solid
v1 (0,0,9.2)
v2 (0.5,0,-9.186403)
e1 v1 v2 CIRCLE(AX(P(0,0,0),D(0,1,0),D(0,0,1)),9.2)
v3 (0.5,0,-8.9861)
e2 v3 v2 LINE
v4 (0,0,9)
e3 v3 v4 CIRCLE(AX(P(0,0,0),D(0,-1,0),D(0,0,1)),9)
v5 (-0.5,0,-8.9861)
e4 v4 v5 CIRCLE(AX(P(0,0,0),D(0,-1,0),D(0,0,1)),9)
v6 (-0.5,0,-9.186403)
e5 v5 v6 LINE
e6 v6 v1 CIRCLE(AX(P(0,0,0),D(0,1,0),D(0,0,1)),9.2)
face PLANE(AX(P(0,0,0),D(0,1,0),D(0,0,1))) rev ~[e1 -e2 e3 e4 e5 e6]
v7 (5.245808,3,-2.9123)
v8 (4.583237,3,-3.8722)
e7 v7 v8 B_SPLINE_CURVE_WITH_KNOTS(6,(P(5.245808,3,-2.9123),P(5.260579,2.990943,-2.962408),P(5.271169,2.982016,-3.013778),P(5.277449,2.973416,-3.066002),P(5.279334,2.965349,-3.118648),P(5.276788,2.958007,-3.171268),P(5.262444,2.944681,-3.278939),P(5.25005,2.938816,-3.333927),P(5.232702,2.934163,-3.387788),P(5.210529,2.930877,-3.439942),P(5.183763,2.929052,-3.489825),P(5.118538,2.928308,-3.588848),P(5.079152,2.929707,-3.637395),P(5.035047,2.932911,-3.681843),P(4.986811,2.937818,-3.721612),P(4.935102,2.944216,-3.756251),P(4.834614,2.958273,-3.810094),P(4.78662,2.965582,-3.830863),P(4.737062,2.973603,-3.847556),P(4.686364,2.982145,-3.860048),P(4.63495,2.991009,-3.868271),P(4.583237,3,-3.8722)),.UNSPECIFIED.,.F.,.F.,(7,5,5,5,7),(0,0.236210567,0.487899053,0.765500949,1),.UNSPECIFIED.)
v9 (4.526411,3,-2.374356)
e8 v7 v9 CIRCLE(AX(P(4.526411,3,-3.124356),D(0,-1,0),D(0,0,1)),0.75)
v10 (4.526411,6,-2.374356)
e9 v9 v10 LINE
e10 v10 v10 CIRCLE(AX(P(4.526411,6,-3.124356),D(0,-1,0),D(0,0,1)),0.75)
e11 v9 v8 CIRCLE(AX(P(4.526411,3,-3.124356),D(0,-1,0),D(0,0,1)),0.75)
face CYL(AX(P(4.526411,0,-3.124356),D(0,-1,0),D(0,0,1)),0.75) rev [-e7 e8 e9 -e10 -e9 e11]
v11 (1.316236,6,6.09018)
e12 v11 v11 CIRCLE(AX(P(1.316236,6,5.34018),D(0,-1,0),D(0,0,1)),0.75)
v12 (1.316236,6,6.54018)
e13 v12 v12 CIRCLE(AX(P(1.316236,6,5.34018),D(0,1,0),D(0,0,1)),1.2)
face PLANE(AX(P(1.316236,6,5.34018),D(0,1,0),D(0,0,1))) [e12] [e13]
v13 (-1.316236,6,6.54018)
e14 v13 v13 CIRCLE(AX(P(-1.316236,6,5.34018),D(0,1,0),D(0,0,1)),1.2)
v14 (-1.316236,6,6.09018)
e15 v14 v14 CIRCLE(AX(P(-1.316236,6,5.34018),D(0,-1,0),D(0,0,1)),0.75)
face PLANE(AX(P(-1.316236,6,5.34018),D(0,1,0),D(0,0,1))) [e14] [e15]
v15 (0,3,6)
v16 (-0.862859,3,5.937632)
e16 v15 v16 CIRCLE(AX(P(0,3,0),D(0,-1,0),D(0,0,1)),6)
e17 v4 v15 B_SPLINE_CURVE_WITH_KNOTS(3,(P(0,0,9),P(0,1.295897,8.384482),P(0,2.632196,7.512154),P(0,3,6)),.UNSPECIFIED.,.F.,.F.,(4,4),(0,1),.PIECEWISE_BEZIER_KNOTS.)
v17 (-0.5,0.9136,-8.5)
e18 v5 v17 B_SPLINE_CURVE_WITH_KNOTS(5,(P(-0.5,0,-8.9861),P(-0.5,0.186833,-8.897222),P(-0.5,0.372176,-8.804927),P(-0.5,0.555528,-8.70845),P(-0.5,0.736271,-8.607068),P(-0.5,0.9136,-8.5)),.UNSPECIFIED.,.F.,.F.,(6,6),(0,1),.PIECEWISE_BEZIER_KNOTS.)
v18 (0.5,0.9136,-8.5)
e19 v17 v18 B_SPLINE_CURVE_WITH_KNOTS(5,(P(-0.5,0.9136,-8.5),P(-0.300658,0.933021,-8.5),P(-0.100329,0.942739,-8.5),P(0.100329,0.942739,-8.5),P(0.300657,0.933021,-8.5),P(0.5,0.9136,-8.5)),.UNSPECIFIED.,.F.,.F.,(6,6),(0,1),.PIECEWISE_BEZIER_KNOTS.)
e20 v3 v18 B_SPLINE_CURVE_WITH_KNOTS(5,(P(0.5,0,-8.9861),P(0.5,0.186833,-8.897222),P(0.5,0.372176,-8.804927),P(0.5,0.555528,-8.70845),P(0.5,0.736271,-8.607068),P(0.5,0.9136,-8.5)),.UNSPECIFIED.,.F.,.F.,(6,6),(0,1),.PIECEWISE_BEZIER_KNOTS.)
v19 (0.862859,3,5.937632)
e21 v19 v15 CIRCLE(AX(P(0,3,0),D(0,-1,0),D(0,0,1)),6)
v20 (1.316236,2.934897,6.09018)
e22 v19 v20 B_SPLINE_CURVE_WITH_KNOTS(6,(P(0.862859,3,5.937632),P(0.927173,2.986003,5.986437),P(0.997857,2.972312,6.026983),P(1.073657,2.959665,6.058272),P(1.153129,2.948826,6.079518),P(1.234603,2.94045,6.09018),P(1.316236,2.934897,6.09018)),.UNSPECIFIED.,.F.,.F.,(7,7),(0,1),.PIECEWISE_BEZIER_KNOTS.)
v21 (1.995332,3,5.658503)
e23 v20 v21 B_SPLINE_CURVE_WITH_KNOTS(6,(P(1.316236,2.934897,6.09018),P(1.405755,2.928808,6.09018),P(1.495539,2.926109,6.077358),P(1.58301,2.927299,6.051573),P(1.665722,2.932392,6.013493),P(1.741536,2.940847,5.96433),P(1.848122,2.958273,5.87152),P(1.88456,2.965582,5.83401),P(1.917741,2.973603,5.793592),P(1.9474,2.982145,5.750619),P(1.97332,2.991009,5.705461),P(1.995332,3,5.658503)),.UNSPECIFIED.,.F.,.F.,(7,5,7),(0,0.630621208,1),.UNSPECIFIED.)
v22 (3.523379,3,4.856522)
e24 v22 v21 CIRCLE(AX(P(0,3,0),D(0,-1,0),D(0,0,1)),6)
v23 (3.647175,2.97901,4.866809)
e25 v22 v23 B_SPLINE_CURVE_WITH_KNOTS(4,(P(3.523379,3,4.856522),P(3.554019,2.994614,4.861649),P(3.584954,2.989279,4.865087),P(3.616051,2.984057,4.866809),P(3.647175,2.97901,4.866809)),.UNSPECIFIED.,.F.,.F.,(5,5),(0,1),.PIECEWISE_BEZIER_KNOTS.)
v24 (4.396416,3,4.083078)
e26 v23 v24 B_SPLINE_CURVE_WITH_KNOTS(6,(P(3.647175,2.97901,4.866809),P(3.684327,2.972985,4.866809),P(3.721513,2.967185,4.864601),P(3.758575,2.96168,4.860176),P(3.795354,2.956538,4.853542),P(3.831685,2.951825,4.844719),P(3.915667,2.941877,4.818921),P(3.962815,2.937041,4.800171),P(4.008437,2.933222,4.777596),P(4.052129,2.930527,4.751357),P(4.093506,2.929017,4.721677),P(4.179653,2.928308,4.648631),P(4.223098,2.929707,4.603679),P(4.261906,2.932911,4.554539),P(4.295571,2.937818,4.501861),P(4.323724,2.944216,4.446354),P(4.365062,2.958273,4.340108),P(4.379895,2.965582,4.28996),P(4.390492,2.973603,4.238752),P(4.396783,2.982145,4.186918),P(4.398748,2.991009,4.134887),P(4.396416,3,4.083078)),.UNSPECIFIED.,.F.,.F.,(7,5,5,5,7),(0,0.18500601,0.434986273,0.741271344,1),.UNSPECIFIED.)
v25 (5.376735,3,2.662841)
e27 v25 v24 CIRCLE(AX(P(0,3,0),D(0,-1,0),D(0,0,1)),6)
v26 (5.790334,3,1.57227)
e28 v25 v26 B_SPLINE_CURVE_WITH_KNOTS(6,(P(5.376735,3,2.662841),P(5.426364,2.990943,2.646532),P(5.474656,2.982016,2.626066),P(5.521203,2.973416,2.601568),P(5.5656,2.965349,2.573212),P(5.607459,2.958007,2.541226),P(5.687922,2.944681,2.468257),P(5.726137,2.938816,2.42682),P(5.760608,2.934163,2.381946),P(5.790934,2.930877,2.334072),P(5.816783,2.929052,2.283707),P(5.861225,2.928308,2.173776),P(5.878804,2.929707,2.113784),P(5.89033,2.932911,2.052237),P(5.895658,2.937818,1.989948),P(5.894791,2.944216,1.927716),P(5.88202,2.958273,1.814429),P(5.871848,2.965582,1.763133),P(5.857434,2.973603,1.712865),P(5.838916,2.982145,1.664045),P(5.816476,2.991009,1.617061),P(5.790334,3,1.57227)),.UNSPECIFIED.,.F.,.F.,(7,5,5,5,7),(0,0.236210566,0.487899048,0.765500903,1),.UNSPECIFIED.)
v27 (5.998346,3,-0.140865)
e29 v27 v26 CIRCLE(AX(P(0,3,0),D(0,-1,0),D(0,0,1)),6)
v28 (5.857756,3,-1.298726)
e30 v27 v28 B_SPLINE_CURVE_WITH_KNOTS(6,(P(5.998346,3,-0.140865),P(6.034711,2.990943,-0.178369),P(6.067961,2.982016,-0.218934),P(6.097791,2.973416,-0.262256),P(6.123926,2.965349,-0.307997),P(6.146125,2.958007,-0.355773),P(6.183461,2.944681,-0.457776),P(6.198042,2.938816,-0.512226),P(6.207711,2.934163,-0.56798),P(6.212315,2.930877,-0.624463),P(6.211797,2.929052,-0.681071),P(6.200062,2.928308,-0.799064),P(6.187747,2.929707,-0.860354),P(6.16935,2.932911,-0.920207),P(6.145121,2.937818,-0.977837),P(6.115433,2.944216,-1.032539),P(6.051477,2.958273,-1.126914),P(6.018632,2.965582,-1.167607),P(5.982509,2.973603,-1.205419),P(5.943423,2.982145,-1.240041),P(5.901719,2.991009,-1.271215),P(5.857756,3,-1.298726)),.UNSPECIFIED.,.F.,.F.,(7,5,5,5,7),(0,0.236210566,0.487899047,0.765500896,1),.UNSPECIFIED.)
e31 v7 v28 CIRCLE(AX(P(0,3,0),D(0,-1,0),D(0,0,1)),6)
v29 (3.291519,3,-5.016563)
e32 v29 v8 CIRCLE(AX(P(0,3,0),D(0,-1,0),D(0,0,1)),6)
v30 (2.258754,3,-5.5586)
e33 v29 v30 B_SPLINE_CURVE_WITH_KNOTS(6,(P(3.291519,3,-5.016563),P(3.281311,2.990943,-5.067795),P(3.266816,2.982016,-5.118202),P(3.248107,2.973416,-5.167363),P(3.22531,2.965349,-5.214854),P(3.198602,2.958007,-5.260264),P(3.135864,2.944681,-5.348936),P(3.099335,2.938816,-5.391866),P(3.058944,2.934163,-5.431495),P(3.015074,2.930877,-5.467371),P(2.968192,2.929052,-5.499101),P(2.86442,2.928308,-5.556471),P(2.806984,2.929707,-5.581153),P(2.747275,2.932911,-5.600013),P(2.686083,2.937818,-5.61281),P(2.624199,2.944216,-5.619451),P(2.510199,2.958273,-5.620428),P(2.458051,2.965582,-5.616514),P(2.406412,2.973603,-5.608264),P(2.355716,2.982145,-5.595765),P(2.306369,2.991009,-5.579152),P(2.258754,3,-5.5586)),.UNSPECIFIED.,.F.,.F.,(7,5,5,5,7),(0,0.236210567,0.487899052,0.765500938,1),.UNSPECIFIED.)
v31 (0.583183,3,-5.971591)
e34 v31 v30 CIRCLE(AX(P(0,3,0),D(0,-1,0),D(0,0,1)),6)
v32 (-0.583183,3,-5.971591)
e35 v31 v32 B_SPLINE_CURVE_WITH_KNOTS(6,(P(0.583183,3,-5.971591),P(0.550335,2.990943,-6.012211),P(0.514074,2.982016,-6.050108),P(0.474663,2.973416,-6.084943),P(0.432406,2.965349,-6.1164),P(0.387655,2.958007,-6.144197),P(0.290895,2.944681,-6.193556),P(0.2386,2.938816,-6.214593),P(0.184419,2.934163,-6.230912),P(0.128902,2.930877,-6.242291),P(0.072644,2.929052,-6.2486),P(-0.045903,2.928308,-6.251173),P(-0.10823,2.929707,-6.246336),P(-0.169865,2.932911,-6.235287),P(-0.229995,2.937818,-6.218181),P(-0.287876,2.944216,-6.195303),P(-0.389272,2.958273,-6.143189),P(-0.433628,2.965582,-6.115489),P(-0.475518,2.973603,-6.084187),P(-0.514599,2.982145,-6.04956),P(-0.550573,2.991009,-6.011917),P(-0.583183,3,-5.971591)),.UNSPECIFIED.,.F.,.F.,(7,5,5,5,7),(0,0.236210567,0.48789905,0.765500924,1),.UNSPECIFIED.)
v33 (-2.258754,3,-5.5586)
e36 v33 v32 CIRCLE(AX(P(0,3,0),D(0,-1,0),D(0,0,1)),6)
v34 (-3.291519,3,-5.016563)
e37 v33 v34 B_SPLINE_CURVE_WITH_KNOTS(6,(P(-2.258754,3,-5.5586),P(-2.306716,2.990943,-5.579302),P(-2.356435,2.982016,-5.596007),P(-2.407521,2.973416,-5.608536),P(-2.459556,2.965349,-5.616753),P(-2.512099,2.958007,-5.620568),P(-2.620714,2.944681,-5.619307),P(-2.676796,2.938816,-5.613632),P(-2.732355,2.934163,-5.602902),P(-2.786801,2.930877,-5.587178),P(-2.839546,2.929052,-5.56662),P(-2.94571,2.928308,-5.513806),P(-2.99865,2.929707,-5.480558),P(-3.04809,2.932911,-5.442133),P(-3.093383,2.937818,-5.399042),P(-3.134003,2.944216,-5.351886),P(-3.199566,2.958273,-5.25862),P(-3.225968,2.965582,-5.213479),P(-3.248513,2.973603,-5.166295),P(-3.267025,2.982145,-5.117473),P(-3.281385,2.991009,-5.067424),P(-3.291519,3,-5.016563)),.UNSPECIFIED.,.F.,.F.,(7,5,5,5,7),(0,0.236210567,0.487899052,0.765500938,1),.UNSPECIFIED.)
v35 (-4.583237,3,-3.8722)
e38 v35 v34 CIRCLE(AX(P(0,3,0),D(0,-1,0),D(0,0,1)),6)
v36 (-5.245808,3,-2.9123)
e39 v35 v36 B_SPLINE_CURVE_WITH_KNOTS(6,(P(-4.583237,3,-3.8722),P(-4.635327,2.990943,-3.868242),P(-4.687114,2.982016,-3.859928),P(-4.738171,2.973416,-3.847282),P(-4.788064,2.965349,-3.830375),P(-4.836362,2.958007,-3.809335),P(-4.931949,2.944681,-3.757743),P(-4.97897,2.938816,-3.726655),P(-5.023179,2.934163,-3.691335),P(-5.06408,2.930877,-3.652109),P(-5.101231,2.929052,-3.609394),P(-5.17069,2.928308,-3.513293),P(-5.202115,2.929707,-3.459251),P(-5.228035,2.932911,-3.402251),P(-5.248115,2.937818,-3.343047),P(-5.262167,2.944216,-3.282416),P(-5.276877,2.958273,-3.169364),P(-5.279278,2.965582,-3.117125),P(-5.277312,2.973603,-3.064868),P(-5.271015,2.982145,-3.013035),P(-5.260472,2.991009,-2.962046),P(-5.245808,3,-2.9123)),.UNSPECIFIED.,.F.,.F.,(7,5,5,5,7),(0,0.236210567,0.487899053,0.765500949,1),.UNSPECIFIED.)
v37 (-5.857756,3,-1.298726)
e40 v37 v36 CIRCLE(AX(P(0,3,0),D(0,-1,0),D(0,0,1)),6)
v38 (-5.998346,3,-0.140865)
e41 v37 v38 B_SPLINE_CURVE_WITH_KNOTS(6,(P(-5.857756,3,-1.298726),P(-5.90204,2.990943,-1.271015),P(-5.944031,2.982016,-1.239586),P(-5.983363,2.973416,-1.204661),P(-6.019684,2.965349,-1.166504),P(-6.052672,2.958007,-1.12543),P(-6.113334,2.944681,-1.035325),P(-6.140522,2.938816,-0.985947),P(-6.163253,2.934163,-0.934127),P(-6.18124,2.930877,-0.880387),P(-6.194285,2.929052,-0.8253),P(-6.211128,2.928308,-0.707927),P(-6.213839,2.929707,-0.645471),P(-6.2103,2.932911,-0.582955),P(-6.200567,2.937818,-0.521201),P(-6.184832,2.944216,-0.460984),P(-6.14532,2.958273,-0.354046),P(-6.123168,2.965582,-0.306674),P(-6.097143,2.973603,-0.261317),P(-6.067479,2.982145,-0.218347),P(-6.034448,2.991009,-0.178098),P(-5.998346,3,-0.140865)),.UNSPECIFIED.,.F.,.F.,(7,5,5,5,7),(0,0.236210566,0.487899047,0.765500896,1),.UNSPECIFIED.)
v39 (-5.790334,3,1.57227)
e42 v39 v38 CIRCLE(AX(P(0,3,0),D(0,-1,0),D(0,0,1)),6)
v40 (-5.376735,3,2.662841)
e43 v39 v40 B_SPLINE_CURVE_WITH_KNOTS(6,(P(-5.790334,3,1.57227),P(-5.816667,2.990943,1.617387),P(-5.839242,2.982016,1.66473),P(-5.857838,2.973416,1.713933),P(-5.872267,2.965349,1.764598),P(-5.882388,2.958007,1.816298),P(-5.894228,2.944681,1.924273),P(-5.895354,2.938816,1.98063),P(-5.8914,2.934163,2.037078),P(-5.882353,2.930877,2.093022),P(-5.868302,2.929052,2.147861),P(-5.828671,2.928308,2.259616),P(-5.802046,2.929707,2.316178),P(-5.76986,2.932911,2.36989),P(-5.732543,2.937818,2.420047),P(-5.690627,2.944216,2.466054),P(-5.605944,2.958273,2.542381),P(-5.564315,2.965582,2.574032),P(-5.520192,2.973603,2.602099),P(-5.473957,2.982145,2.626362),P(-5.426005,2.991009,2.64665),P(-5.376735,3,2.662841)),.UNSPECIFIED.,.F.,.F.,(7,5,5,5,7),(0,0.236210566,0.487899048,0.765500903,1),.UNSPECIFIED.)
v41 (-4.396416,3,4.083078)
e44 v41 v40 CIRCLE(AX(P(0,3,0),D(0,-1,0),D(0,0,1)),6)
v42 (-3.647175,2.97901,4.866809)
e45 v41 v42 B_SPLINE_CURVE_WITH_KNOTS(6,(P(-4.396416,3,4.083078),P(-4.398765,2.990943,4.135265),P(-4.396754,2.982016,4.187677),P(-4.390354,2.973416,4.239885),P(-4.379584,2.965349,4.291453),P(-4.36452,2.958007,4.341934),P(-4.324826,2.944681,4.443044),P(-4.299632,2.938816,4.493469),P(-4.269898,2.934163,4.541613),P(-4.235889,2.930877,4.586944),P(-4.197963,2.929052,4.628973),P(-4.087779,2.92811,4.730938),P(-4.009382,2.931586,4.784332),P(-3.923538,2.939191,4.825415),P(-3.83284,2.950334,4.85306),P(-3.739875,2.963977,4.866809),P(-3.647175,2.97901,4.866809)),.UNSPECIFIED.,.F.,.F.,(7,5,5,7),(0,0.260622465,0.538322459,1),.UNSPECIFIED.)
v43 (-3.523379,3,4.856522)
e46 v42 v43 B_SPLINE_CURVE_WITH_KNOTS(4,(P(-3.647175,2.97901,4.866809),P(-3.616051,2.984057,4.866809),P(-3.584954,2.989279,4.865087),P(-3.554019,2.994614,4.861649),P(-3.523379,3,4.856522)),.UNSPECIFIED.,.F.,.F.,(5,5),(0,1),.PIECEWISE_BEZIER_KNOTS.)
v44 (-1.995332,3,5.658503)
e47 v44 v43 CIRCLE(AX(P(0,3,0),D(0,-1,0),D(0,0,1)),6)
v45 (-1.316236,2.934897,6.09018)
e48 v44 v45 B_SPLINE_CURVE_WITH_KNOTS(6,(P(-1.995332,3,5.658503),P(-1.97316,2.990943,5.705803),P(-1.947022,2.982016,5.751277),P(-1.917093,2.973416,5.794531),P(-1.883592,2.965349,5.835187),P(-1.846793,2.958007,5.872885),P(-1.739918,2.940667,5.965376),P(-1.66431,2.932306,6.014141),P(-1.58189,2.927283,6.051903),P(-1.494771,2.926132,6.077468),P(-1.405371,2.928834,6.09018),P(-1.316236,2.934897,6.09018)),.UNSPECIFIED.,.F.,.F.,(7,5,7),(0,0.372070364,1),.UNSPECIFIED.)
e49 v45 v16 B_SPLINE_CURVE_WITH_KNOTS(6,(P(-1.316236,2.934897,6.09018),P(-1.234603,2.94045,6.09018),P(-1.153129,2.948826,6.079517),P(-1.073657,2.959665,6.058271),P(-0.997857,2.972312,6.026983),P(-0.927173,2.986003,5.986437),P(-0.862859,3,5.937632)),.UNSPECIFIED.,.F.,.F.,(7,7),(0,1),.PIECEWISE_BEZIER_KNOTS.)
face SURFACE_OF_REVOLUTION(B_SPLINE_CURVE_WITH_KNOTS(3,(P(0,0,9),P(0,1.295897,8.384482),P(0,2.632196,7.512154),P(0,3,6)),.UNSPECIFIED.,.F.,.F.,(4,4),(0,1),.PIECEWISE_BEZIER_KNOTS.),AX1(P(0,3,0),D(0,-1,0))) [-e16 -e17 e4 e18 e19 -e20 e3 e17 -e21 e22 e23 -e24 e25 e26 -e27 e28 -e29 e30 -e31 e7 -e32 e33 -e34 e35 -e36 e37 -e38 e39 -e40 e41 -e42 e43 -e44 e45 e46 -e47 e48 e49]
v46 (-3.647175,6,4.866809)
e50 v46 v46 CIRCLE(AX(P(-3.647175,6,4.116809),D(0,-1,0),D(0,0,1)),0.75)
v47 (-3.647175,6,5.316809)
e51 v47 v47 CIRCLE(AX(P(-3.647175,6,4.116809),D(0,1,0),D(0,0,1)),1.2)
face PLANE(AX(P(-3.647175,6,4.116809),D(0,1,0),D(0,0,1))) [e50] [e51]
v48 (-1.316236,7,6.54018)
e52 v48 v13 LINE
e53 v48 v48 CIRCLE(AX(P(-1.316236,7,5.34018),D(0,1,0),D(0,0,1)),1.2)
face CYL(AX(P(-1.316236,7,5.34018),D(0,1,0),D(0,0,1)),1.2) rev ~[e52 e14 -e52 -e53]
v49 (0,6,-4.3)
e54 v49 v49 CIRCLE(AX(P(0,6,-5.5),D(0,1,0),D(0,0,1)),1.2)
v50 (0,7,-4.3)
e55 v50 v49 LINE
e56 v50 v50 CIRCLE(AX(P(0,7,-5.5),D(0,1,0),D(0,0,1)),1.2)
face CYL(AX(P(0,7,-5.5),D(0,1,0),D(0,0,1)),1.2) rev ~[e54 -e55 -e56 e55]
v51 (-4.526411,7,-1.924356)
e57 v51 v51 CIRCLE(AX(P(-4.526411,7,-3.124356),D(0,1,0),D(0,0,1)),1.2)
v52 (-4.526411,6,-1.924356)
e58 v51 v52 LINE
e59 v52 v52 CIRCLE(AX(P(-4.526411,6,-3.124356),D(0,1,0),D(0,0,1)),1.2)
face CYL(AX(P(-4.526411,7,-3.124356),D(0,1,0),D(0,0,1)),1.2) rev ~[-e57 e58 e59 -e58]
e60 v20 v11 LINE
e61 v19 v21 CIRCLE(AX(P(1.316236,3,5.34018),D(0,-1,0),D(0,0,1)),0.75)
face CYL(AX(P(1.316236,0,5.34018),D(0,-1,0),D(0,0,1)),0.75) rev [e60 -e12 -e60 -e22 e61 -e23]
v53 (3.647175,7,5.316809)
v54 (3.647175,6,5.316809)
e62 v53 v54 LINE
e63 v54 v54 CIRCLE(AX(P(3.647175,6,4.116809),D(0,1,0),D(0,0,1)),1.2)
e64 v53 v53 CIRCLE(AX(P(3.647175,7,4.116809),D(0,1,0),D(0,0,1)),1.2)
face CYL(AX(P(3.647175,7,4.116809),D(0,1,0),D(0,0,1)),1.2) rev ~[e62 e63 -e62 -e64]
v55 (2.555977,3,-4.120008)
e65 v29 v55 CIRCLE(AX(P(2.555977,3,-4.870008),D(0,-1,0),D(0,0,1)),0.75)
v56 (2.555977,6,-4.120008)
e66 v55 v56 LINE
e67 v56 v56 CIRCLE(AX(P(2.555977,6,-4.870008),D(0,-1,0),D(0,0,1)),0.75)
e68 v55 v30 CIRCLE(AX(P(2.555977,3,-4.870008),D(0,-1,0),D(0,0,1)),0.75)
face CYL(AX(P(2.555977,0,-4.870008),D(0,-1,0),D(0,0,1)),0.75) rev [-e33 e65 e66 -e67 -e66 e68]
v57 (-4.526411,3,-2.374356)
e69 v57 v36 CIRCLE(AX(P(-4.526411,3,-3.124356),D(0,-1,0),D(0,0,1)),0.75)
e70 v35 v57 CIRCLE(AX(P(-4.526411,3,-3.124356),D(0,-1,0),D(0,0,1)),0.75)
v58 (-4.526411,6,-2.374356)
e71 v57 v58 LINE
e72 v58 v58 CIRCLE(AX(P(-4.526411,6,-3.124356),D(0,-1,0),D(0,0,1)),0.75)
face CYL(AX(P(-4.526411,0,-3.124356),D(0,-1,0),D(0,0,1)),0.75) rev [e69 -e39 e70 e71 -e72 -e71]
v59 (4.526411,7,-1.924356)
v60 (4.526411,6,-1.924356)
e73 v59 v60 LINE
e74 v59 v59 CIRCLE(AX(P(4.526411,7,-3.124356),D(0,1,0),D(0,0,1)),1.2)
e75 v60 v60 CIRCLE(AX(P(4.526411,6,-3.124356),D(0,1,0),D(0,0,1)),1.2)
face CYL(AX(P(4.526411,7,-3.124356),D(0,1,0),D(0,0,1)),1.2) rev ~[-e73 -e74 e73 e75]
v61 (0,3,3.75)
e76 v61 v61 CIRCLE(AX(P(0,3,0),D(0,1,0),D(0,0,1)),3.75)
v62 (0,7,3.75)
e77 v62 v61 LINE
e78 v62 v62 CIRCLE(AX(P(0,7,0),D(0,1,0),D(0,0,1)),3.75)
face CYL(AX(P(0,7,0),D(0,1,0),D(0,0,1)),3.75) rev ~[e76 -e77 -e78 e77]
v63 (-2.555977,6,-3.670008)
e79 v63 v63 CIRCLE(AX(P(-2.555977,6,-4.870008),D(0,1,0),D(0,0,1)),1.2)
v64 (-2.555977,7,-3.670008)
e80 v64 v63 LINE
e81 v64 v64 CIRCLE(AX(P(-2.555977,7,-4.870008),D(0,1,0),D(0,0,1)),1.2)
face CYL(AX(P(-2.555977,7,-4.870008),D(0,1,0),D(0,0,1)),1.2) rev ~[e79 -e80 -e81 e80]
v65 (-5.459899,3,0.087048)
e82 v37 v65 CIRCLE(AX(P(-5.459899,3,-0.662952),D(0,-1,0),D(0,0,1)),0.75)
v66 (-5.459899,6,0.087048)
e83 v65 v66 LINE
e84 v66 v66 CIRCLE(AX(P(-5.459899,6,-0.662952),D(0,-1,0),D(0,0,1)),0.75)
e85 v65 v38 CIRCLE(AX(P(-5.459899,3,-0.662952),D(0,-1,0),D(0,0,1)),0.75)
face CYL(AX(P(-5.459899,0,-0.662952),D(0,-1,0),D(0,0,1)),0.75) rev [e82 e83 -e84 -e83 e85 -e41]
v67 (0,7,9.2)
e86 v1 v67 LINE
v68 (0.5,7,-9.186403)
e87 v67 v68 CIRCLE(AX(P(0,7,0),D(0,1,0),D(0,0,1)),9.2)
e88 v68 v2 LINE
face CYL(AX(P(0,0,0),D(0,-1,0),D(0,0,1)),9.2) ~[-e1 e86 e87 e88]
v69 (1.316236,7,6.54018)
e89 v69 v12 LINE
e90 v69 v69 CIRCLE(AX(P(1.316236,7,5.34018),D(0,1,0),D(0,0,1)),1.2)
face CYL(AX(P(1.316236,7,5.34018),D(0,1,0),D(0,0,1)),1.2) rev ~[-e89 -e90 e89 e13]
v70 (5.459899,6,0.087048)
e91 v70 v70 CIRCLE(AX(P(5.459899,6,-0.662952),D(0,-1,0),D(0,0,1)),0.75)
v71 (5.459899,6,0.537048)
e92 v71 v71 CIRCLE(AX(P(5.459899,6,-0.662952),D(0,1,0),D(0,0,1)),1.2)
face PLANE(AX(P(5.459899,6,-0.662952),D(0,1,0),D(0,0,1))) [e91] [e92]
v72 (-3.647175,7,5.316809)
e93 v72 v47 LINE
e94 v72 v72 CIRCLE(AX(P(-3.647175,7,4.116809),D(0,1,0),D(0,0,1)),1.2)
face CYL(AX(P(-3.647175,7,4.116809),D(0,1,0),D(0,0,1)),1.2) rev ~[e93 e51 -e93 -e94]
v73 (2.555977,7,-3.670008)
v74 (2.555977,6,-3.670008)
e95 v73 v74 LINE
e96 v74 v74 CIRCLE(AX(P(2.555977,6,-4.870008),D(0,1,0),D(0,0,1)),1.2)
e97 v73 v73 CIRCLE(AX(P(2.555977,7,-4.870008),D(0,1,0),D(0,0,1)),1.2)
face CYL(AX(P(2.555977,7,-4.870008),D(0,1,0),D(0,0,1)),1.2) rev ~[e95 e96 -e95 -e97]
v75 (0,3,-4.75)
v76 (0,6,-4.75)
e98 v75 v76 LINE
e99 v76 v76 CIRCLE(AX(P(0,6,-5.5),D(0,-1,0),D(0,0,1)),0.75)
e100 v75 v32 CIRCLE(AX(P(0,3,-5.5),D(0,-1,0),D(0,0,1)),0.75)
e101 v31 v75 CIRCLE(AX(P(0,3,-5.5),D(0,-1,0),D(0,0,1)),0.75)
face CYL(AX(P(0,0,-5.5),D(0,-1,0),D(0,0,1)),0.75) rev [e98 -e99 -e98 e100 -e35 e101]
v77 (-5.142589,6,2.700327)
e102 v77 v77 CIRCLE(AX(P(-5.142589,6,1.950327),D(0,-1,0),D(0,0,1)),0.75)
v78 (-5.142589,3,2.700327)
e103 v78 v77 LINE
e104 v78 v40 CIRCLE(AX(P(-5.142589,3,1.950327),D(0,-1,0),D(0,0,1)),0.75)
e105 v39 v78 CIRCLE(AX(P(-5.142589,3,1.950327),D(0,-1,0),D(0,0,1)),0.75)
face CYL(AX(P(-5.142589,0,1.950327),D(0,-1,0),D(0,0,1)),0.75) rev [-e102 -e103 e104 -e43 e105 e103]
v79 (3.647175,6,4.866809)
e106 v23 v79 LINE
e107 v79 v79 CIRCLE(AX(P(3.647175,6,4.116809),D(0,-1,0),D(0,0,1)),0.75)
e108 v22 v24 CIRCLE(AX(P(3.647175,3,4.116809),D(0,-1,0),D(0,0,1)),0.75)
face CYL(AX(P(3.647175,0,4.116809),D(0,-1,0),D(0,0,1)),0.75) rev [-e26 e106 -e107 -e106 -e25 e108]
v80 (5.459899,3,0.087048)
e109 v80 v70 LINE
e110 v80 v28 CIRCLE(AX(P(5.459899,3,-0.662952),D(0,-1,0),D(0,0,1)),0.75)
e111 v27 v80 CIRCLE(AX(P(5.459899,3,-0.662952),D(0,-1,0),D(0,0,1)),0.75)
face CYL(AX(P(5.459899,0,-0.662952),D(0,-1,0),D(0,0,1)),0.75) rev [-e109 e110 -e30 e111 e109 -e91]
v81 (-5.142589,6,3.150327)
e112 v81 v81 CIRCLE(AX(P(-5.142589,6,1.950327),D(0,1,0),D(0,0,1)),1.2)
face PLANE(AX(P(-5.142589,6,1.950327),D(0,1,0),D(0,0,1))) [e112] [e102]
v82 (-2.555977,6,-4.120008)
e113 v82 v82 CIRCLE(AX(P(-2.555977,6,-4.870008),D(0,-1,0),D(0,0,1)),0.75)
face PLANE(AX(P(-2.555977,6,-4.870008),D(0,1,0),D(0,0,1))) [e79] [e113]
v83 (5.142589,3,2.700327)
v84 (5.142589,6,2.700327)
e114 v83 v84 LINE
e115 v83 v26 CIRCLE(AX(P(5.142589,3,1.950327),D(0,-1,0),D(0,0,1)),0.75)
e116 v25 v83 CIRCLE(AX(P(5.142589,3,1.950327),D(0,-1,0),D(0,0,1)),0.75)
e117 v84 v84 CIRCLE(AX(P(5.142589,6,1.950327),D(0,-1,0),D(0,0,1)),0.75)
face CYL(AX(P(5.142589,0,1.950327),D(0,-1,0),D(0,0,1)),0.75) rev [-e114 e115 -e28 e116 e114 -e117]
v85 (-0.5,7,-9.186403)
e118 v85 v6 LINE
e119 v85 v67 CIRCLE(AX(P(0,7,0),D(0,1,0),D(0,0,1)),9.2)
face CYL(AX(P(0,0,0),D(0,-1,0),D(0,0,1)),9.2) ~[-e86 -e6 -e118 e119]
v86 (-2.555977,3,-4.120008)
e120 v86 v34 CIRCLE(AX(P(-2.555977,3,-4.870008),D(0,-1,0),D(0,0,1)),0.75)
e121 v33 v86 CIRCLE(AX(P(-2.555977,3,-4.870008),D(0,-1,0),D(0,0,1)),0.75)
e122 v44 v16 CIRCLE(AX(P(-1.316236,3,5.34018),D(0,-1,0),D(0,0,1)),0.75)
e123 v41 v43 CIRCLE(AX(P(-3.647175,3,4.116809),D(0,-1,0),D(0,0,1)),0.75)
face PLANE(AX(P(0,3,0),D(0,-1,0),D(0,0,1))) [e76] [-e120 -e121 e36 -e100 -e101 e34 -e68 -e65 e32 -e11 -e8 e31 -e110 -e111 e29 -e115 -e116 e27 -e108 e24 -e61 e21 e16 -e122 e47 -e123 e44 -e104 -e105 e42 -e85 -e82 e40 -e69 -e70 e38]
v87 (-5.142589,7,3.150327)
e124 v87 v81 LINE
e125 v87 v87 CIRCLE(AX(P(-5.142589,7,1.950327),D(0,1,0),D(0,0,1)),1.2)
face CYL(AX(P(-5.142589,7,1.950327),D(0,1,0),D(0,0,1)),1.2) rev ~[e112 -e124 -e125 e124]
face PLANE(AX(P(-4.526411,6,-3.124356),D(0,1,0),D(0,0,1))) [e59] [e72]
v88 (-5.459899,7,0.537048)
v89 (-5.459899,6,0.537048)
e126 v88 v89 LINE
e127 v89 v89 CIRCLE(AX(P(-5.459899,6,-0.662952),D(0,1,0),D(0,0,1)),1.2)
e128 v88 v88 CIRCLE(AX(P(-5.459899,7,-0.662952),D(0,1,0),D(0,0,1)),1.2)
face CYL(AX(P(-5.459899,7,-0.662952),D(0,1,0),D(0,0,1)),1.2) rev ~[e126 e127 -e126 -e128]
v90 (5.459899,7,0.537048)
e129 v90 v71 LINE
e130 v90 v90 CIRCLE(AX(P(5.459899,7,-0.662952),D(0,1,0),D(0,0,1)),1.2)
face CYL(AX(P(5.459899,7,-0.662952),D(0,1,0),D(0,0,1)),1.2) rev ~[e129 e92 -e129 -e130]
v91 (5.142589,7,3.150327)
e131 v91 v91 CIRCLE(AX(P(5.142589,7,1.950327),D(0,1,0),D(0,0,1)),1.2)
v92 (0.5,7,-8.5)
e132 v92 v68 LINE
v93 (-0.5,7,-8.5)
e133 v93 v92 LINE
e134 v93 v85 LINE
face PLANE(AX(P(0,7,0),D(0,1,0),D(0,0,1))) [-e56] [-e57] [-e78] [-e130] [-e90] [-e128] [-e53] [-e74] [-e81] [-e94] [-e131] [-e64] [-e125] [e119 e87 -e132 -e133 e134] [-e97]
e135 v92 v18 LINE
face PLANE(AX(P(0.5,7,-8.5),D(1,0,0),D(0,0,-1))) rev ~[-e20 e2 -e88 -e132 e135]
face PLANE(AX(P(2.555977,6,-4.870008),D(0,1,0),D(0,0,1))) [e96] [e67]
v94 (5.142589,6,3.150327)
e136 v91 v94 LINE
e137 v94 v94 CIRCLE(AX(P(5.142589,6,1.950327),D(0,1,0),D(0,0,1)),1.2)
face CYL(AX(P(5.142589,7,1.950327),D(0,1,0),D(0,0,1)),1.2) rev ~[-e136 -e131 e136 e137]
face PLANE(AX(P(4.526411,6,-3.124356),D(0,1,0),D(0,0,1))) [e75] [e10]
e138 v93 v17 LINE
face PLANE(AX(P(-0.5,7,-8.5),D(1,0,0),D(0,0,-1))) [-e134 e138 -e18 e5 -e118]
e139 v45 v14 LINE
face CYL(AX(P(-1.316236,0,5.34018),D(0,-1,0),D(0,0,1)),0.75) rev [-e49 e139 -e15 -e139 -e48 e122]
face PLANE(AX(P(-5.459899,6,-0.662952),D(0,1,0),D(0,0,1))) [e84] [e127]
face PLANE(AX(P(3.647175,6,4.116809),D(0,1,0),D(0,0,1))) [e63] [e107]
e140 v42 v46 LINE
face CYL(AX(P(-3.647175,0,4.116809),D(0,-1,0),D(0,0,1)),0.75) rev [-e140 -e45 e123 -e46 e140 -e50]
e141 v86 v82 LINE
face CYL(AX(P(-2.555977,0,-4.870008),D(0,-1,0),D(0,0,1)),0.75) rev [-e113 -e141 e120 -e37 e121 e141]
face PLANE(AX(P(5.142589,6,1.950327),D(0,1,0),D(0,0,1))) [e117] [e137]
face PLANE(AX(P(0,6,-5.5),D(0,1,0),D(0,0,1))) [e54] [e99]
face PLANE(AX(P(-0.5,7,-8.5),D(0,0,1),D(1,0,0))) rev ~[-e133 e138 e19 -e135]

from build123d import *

# Parameters (mm, degrees)
SKETCH_1_R          = 9.2
SKETCH_1_R_2        = 0.75
EXTRUDE_1_DEPTH     = 7
SKETCH_2_W          = 1
SKETCH_2_H          = 0.798143387
CUT_EXTRUDE_1_DEPTH = 7.5
SKETCH_6_R          = 3.75
CUT_EXTRUDE_3_DEPTH = 5
SKETCH_7_R          = 1.2
CUT_EXTRUDE_4_DEPTH = 1


with BuildPart() as part:
    # 草图1 → 凸台-拉伸1 (new body)
    with BuildSketch(Plane(origin=(0, 0, 0), x_dir=(1, 0, 0), z_dir=(0, 1, 0))):
        with Locations(Location((0, 0, 0), (0, 0, 270))):
            Circle(SKETCH_1_R)
        with Locations(Location((0, 5.5, 0), (0, 0, 270))):
            Circle(SKETCH_1_R_2, mode=Mode.SUBTRACT)
        with Locations(Location((2.555977446, 4.870008141, 0), (0, 0, 270))):
            Circle(SKETCH_1_R_2, mode=Mode.SUBTRACT)
        with Locations(Location((4.526411262, 3.124356107, 0), (0, 0, 270))):
            Circle(SKETCH_1_R_2, mode=Mode.SUBTRACT)
        with Locations(Location((5.459898808, 0.662951741, 0), (0, 0, 270))):
            Circle(SKETCH_1_R_2, mode=Mode.SUBTRACT)
        with Locations(Location((5.142589335, -1.950326879, 0), (0, 0, 270))):
            Circle(SKETCH_1_R_2, mode=Mode.SUBTRACT)
        with Locations(Location((3.64717462, -4.116809115, 0), (0, 0, 270))):
            Circle(SKETCH_1_R_2, mode=Mode.SUBTRACT)
        with Locations(Location((1.316236154, -5.340179996, 0), (0, 0, 270))):
            Circle(SKETCH_1_R_2, mode=Mode.SUBTRACT)
        with Locations(Location((-1.316236154, -5.340179996, 0), (0, 0, 270))):
            Circle(SKETCH_1_R_2, mode=Mode.SUBTRACT)
        with Locations(Location((-3.64717462, -4.116809115, 0), (0, 0, 270))):
            Circle(SKETCH_1_R_2, mode=Mode.SUBTRACT)
        with Locations(Location((-5.142589335, -1.950326879, 0), (0, 0, 270))):
            Circle(SKETCH_1_R_2, mode=Mode.SUBTRACT)
        with Locations(Location((-5.459898808, 0.662951741, 0), (0, 0, 270))):
            Circle(SKETCH_1_R_2, mode=Mode.SUBTRACT)
        with Locations(Location((-4.526411262, 3.124356107, 0), (0, 0, 270))):
            Circle(SKETCH_1_R_2, mode=Mode.SUBTRACT)
        with Locations(Location((-2.555977446, 4.870008141, 0), (0, 0, 270))):
            Circle(SKETCH_1_R_2, mode=Mode.SUBTRACT)
    extrude(amount=EXTRUDE_1_DEPTH)

    # 草图2 → 切除-拉伸1 (cut)
    with BuildSketch(Plane(origin=(0, 7, 0), x_dir=(1, 0, 0), z_dir=(0, 1, 0))):
        with Locations((0, 8.899071694)):
            Rectangle(SKETCH_2_W, SKETCH_2_H)
    extrude(amount=-CUT_EXTRUDE_1_DEPTH, mode=Mode.SUBTRACT)

    # 草图5 → 切除-旋转1 (revolve, cut)
    with BuildSketch(Plane(origin=(0, 0, 0), x_dir=(0, 0, -1), z_dir=(1, 0, 0))):
        with BuildLine():
            Line((-6, 3), (0, 3))
            Line((0, 3), (0, 0))
            Line((0, 0), (-9, 0))
            add(Edge.make_bspline(
                [(-9, 0), (-8.384481944, 1.295897354), (-7.512154342, 2.632195528), (-6, 3)],
                knots=[0, 0, 0, 0, 1, 1, 1, 1], degree=3))
        make_face()
    revolve(axis=Axis((0, 3, 0), (0, -1, 0)), mode=Mode.SUBTRACT)

    # 草图6 → 切除-拉伸3 (cut)
    with BuildSketch(Plane(origin=(0, 7, 0), x_dir=(1, 0, 0), z_dir=(0, 1, 0))):
        with Locations(Location((0, 0, 0), (0, 0, 270))):
            Circle(SKETCH_6_R)
    extrude(amount=-CUT_EXTRUDE_3_DEPTH, mode=Mode.SUBTRACT)

    # 草图7 → 切除-拉伸4 (cut)
    with BuildSketch(Plane(origin=(0, 7, 0), x_dir=(1, 0, 0), z_dir=(0, 1, 0))):
        with Locations(Location((0, 5.5, 0), (0, 0, 270))):
            Circle(SKETCH_7_R)
        with Locations(Location((2.555977446, 4.870008141, 0), (0, 0, 270))):
            Circle(SKETCH_7_R)
        with Locations(Location((4.526411262, 3.124356107, 0), (0, 0, 270))):
            Circle(SKETCH_7_R)
        with Locations(Location((5.459898808, 0.662951741, 0), (0, 0, 270))):
            Circle(SKETCH_7_R)
        with Locations(Location((5.142589335, -1.950326879, 0), (0, 0, 270))):
            Circle(SKETCH_7_R)
        with Locations(Location((3.64717462, -4.116809115, 0), (0, 0, 270))):
            Circle(SKETCH_7_R)
        with Locations(Location((1.316236154, -5.340179996, 0), (0, 0, 270))):
            Circle(SKETCH_7_R)
        with Locations(Location((-1.316236154, -5.340179996, 0), (0, 0, 270))):
            Circle(SKETCH_7_R)
        with Locations(Location((-3.64717462, -4.116809115, 0), (0, 0, 270))):
            Circle(SKETCH_7_R)
        with Locations(Location((-5.142589335, -1.950326879, 0), (0, 0, 270))):
            Circle(SKETCH_7_R)
        with Locations(Location((-5.459898808, 0.662951741, 0), (0, 0, 270))):
            Circle(SKETCH_7_R)
        with Locations(Location((-4.526411262, 3.124356107, 0), (0, 0, 270))):
            Circle(SKETCH_7_R)
        with Locations(Location((-2.555977446, 4.870008141, 0), (0, 0, 270))):
            Circle(SKETCH_7_R)
    extrude(amount=-CUT_EXTRUDE_4_DEPTH, mode=Mode.SUBTRACT)


solid = part.part
